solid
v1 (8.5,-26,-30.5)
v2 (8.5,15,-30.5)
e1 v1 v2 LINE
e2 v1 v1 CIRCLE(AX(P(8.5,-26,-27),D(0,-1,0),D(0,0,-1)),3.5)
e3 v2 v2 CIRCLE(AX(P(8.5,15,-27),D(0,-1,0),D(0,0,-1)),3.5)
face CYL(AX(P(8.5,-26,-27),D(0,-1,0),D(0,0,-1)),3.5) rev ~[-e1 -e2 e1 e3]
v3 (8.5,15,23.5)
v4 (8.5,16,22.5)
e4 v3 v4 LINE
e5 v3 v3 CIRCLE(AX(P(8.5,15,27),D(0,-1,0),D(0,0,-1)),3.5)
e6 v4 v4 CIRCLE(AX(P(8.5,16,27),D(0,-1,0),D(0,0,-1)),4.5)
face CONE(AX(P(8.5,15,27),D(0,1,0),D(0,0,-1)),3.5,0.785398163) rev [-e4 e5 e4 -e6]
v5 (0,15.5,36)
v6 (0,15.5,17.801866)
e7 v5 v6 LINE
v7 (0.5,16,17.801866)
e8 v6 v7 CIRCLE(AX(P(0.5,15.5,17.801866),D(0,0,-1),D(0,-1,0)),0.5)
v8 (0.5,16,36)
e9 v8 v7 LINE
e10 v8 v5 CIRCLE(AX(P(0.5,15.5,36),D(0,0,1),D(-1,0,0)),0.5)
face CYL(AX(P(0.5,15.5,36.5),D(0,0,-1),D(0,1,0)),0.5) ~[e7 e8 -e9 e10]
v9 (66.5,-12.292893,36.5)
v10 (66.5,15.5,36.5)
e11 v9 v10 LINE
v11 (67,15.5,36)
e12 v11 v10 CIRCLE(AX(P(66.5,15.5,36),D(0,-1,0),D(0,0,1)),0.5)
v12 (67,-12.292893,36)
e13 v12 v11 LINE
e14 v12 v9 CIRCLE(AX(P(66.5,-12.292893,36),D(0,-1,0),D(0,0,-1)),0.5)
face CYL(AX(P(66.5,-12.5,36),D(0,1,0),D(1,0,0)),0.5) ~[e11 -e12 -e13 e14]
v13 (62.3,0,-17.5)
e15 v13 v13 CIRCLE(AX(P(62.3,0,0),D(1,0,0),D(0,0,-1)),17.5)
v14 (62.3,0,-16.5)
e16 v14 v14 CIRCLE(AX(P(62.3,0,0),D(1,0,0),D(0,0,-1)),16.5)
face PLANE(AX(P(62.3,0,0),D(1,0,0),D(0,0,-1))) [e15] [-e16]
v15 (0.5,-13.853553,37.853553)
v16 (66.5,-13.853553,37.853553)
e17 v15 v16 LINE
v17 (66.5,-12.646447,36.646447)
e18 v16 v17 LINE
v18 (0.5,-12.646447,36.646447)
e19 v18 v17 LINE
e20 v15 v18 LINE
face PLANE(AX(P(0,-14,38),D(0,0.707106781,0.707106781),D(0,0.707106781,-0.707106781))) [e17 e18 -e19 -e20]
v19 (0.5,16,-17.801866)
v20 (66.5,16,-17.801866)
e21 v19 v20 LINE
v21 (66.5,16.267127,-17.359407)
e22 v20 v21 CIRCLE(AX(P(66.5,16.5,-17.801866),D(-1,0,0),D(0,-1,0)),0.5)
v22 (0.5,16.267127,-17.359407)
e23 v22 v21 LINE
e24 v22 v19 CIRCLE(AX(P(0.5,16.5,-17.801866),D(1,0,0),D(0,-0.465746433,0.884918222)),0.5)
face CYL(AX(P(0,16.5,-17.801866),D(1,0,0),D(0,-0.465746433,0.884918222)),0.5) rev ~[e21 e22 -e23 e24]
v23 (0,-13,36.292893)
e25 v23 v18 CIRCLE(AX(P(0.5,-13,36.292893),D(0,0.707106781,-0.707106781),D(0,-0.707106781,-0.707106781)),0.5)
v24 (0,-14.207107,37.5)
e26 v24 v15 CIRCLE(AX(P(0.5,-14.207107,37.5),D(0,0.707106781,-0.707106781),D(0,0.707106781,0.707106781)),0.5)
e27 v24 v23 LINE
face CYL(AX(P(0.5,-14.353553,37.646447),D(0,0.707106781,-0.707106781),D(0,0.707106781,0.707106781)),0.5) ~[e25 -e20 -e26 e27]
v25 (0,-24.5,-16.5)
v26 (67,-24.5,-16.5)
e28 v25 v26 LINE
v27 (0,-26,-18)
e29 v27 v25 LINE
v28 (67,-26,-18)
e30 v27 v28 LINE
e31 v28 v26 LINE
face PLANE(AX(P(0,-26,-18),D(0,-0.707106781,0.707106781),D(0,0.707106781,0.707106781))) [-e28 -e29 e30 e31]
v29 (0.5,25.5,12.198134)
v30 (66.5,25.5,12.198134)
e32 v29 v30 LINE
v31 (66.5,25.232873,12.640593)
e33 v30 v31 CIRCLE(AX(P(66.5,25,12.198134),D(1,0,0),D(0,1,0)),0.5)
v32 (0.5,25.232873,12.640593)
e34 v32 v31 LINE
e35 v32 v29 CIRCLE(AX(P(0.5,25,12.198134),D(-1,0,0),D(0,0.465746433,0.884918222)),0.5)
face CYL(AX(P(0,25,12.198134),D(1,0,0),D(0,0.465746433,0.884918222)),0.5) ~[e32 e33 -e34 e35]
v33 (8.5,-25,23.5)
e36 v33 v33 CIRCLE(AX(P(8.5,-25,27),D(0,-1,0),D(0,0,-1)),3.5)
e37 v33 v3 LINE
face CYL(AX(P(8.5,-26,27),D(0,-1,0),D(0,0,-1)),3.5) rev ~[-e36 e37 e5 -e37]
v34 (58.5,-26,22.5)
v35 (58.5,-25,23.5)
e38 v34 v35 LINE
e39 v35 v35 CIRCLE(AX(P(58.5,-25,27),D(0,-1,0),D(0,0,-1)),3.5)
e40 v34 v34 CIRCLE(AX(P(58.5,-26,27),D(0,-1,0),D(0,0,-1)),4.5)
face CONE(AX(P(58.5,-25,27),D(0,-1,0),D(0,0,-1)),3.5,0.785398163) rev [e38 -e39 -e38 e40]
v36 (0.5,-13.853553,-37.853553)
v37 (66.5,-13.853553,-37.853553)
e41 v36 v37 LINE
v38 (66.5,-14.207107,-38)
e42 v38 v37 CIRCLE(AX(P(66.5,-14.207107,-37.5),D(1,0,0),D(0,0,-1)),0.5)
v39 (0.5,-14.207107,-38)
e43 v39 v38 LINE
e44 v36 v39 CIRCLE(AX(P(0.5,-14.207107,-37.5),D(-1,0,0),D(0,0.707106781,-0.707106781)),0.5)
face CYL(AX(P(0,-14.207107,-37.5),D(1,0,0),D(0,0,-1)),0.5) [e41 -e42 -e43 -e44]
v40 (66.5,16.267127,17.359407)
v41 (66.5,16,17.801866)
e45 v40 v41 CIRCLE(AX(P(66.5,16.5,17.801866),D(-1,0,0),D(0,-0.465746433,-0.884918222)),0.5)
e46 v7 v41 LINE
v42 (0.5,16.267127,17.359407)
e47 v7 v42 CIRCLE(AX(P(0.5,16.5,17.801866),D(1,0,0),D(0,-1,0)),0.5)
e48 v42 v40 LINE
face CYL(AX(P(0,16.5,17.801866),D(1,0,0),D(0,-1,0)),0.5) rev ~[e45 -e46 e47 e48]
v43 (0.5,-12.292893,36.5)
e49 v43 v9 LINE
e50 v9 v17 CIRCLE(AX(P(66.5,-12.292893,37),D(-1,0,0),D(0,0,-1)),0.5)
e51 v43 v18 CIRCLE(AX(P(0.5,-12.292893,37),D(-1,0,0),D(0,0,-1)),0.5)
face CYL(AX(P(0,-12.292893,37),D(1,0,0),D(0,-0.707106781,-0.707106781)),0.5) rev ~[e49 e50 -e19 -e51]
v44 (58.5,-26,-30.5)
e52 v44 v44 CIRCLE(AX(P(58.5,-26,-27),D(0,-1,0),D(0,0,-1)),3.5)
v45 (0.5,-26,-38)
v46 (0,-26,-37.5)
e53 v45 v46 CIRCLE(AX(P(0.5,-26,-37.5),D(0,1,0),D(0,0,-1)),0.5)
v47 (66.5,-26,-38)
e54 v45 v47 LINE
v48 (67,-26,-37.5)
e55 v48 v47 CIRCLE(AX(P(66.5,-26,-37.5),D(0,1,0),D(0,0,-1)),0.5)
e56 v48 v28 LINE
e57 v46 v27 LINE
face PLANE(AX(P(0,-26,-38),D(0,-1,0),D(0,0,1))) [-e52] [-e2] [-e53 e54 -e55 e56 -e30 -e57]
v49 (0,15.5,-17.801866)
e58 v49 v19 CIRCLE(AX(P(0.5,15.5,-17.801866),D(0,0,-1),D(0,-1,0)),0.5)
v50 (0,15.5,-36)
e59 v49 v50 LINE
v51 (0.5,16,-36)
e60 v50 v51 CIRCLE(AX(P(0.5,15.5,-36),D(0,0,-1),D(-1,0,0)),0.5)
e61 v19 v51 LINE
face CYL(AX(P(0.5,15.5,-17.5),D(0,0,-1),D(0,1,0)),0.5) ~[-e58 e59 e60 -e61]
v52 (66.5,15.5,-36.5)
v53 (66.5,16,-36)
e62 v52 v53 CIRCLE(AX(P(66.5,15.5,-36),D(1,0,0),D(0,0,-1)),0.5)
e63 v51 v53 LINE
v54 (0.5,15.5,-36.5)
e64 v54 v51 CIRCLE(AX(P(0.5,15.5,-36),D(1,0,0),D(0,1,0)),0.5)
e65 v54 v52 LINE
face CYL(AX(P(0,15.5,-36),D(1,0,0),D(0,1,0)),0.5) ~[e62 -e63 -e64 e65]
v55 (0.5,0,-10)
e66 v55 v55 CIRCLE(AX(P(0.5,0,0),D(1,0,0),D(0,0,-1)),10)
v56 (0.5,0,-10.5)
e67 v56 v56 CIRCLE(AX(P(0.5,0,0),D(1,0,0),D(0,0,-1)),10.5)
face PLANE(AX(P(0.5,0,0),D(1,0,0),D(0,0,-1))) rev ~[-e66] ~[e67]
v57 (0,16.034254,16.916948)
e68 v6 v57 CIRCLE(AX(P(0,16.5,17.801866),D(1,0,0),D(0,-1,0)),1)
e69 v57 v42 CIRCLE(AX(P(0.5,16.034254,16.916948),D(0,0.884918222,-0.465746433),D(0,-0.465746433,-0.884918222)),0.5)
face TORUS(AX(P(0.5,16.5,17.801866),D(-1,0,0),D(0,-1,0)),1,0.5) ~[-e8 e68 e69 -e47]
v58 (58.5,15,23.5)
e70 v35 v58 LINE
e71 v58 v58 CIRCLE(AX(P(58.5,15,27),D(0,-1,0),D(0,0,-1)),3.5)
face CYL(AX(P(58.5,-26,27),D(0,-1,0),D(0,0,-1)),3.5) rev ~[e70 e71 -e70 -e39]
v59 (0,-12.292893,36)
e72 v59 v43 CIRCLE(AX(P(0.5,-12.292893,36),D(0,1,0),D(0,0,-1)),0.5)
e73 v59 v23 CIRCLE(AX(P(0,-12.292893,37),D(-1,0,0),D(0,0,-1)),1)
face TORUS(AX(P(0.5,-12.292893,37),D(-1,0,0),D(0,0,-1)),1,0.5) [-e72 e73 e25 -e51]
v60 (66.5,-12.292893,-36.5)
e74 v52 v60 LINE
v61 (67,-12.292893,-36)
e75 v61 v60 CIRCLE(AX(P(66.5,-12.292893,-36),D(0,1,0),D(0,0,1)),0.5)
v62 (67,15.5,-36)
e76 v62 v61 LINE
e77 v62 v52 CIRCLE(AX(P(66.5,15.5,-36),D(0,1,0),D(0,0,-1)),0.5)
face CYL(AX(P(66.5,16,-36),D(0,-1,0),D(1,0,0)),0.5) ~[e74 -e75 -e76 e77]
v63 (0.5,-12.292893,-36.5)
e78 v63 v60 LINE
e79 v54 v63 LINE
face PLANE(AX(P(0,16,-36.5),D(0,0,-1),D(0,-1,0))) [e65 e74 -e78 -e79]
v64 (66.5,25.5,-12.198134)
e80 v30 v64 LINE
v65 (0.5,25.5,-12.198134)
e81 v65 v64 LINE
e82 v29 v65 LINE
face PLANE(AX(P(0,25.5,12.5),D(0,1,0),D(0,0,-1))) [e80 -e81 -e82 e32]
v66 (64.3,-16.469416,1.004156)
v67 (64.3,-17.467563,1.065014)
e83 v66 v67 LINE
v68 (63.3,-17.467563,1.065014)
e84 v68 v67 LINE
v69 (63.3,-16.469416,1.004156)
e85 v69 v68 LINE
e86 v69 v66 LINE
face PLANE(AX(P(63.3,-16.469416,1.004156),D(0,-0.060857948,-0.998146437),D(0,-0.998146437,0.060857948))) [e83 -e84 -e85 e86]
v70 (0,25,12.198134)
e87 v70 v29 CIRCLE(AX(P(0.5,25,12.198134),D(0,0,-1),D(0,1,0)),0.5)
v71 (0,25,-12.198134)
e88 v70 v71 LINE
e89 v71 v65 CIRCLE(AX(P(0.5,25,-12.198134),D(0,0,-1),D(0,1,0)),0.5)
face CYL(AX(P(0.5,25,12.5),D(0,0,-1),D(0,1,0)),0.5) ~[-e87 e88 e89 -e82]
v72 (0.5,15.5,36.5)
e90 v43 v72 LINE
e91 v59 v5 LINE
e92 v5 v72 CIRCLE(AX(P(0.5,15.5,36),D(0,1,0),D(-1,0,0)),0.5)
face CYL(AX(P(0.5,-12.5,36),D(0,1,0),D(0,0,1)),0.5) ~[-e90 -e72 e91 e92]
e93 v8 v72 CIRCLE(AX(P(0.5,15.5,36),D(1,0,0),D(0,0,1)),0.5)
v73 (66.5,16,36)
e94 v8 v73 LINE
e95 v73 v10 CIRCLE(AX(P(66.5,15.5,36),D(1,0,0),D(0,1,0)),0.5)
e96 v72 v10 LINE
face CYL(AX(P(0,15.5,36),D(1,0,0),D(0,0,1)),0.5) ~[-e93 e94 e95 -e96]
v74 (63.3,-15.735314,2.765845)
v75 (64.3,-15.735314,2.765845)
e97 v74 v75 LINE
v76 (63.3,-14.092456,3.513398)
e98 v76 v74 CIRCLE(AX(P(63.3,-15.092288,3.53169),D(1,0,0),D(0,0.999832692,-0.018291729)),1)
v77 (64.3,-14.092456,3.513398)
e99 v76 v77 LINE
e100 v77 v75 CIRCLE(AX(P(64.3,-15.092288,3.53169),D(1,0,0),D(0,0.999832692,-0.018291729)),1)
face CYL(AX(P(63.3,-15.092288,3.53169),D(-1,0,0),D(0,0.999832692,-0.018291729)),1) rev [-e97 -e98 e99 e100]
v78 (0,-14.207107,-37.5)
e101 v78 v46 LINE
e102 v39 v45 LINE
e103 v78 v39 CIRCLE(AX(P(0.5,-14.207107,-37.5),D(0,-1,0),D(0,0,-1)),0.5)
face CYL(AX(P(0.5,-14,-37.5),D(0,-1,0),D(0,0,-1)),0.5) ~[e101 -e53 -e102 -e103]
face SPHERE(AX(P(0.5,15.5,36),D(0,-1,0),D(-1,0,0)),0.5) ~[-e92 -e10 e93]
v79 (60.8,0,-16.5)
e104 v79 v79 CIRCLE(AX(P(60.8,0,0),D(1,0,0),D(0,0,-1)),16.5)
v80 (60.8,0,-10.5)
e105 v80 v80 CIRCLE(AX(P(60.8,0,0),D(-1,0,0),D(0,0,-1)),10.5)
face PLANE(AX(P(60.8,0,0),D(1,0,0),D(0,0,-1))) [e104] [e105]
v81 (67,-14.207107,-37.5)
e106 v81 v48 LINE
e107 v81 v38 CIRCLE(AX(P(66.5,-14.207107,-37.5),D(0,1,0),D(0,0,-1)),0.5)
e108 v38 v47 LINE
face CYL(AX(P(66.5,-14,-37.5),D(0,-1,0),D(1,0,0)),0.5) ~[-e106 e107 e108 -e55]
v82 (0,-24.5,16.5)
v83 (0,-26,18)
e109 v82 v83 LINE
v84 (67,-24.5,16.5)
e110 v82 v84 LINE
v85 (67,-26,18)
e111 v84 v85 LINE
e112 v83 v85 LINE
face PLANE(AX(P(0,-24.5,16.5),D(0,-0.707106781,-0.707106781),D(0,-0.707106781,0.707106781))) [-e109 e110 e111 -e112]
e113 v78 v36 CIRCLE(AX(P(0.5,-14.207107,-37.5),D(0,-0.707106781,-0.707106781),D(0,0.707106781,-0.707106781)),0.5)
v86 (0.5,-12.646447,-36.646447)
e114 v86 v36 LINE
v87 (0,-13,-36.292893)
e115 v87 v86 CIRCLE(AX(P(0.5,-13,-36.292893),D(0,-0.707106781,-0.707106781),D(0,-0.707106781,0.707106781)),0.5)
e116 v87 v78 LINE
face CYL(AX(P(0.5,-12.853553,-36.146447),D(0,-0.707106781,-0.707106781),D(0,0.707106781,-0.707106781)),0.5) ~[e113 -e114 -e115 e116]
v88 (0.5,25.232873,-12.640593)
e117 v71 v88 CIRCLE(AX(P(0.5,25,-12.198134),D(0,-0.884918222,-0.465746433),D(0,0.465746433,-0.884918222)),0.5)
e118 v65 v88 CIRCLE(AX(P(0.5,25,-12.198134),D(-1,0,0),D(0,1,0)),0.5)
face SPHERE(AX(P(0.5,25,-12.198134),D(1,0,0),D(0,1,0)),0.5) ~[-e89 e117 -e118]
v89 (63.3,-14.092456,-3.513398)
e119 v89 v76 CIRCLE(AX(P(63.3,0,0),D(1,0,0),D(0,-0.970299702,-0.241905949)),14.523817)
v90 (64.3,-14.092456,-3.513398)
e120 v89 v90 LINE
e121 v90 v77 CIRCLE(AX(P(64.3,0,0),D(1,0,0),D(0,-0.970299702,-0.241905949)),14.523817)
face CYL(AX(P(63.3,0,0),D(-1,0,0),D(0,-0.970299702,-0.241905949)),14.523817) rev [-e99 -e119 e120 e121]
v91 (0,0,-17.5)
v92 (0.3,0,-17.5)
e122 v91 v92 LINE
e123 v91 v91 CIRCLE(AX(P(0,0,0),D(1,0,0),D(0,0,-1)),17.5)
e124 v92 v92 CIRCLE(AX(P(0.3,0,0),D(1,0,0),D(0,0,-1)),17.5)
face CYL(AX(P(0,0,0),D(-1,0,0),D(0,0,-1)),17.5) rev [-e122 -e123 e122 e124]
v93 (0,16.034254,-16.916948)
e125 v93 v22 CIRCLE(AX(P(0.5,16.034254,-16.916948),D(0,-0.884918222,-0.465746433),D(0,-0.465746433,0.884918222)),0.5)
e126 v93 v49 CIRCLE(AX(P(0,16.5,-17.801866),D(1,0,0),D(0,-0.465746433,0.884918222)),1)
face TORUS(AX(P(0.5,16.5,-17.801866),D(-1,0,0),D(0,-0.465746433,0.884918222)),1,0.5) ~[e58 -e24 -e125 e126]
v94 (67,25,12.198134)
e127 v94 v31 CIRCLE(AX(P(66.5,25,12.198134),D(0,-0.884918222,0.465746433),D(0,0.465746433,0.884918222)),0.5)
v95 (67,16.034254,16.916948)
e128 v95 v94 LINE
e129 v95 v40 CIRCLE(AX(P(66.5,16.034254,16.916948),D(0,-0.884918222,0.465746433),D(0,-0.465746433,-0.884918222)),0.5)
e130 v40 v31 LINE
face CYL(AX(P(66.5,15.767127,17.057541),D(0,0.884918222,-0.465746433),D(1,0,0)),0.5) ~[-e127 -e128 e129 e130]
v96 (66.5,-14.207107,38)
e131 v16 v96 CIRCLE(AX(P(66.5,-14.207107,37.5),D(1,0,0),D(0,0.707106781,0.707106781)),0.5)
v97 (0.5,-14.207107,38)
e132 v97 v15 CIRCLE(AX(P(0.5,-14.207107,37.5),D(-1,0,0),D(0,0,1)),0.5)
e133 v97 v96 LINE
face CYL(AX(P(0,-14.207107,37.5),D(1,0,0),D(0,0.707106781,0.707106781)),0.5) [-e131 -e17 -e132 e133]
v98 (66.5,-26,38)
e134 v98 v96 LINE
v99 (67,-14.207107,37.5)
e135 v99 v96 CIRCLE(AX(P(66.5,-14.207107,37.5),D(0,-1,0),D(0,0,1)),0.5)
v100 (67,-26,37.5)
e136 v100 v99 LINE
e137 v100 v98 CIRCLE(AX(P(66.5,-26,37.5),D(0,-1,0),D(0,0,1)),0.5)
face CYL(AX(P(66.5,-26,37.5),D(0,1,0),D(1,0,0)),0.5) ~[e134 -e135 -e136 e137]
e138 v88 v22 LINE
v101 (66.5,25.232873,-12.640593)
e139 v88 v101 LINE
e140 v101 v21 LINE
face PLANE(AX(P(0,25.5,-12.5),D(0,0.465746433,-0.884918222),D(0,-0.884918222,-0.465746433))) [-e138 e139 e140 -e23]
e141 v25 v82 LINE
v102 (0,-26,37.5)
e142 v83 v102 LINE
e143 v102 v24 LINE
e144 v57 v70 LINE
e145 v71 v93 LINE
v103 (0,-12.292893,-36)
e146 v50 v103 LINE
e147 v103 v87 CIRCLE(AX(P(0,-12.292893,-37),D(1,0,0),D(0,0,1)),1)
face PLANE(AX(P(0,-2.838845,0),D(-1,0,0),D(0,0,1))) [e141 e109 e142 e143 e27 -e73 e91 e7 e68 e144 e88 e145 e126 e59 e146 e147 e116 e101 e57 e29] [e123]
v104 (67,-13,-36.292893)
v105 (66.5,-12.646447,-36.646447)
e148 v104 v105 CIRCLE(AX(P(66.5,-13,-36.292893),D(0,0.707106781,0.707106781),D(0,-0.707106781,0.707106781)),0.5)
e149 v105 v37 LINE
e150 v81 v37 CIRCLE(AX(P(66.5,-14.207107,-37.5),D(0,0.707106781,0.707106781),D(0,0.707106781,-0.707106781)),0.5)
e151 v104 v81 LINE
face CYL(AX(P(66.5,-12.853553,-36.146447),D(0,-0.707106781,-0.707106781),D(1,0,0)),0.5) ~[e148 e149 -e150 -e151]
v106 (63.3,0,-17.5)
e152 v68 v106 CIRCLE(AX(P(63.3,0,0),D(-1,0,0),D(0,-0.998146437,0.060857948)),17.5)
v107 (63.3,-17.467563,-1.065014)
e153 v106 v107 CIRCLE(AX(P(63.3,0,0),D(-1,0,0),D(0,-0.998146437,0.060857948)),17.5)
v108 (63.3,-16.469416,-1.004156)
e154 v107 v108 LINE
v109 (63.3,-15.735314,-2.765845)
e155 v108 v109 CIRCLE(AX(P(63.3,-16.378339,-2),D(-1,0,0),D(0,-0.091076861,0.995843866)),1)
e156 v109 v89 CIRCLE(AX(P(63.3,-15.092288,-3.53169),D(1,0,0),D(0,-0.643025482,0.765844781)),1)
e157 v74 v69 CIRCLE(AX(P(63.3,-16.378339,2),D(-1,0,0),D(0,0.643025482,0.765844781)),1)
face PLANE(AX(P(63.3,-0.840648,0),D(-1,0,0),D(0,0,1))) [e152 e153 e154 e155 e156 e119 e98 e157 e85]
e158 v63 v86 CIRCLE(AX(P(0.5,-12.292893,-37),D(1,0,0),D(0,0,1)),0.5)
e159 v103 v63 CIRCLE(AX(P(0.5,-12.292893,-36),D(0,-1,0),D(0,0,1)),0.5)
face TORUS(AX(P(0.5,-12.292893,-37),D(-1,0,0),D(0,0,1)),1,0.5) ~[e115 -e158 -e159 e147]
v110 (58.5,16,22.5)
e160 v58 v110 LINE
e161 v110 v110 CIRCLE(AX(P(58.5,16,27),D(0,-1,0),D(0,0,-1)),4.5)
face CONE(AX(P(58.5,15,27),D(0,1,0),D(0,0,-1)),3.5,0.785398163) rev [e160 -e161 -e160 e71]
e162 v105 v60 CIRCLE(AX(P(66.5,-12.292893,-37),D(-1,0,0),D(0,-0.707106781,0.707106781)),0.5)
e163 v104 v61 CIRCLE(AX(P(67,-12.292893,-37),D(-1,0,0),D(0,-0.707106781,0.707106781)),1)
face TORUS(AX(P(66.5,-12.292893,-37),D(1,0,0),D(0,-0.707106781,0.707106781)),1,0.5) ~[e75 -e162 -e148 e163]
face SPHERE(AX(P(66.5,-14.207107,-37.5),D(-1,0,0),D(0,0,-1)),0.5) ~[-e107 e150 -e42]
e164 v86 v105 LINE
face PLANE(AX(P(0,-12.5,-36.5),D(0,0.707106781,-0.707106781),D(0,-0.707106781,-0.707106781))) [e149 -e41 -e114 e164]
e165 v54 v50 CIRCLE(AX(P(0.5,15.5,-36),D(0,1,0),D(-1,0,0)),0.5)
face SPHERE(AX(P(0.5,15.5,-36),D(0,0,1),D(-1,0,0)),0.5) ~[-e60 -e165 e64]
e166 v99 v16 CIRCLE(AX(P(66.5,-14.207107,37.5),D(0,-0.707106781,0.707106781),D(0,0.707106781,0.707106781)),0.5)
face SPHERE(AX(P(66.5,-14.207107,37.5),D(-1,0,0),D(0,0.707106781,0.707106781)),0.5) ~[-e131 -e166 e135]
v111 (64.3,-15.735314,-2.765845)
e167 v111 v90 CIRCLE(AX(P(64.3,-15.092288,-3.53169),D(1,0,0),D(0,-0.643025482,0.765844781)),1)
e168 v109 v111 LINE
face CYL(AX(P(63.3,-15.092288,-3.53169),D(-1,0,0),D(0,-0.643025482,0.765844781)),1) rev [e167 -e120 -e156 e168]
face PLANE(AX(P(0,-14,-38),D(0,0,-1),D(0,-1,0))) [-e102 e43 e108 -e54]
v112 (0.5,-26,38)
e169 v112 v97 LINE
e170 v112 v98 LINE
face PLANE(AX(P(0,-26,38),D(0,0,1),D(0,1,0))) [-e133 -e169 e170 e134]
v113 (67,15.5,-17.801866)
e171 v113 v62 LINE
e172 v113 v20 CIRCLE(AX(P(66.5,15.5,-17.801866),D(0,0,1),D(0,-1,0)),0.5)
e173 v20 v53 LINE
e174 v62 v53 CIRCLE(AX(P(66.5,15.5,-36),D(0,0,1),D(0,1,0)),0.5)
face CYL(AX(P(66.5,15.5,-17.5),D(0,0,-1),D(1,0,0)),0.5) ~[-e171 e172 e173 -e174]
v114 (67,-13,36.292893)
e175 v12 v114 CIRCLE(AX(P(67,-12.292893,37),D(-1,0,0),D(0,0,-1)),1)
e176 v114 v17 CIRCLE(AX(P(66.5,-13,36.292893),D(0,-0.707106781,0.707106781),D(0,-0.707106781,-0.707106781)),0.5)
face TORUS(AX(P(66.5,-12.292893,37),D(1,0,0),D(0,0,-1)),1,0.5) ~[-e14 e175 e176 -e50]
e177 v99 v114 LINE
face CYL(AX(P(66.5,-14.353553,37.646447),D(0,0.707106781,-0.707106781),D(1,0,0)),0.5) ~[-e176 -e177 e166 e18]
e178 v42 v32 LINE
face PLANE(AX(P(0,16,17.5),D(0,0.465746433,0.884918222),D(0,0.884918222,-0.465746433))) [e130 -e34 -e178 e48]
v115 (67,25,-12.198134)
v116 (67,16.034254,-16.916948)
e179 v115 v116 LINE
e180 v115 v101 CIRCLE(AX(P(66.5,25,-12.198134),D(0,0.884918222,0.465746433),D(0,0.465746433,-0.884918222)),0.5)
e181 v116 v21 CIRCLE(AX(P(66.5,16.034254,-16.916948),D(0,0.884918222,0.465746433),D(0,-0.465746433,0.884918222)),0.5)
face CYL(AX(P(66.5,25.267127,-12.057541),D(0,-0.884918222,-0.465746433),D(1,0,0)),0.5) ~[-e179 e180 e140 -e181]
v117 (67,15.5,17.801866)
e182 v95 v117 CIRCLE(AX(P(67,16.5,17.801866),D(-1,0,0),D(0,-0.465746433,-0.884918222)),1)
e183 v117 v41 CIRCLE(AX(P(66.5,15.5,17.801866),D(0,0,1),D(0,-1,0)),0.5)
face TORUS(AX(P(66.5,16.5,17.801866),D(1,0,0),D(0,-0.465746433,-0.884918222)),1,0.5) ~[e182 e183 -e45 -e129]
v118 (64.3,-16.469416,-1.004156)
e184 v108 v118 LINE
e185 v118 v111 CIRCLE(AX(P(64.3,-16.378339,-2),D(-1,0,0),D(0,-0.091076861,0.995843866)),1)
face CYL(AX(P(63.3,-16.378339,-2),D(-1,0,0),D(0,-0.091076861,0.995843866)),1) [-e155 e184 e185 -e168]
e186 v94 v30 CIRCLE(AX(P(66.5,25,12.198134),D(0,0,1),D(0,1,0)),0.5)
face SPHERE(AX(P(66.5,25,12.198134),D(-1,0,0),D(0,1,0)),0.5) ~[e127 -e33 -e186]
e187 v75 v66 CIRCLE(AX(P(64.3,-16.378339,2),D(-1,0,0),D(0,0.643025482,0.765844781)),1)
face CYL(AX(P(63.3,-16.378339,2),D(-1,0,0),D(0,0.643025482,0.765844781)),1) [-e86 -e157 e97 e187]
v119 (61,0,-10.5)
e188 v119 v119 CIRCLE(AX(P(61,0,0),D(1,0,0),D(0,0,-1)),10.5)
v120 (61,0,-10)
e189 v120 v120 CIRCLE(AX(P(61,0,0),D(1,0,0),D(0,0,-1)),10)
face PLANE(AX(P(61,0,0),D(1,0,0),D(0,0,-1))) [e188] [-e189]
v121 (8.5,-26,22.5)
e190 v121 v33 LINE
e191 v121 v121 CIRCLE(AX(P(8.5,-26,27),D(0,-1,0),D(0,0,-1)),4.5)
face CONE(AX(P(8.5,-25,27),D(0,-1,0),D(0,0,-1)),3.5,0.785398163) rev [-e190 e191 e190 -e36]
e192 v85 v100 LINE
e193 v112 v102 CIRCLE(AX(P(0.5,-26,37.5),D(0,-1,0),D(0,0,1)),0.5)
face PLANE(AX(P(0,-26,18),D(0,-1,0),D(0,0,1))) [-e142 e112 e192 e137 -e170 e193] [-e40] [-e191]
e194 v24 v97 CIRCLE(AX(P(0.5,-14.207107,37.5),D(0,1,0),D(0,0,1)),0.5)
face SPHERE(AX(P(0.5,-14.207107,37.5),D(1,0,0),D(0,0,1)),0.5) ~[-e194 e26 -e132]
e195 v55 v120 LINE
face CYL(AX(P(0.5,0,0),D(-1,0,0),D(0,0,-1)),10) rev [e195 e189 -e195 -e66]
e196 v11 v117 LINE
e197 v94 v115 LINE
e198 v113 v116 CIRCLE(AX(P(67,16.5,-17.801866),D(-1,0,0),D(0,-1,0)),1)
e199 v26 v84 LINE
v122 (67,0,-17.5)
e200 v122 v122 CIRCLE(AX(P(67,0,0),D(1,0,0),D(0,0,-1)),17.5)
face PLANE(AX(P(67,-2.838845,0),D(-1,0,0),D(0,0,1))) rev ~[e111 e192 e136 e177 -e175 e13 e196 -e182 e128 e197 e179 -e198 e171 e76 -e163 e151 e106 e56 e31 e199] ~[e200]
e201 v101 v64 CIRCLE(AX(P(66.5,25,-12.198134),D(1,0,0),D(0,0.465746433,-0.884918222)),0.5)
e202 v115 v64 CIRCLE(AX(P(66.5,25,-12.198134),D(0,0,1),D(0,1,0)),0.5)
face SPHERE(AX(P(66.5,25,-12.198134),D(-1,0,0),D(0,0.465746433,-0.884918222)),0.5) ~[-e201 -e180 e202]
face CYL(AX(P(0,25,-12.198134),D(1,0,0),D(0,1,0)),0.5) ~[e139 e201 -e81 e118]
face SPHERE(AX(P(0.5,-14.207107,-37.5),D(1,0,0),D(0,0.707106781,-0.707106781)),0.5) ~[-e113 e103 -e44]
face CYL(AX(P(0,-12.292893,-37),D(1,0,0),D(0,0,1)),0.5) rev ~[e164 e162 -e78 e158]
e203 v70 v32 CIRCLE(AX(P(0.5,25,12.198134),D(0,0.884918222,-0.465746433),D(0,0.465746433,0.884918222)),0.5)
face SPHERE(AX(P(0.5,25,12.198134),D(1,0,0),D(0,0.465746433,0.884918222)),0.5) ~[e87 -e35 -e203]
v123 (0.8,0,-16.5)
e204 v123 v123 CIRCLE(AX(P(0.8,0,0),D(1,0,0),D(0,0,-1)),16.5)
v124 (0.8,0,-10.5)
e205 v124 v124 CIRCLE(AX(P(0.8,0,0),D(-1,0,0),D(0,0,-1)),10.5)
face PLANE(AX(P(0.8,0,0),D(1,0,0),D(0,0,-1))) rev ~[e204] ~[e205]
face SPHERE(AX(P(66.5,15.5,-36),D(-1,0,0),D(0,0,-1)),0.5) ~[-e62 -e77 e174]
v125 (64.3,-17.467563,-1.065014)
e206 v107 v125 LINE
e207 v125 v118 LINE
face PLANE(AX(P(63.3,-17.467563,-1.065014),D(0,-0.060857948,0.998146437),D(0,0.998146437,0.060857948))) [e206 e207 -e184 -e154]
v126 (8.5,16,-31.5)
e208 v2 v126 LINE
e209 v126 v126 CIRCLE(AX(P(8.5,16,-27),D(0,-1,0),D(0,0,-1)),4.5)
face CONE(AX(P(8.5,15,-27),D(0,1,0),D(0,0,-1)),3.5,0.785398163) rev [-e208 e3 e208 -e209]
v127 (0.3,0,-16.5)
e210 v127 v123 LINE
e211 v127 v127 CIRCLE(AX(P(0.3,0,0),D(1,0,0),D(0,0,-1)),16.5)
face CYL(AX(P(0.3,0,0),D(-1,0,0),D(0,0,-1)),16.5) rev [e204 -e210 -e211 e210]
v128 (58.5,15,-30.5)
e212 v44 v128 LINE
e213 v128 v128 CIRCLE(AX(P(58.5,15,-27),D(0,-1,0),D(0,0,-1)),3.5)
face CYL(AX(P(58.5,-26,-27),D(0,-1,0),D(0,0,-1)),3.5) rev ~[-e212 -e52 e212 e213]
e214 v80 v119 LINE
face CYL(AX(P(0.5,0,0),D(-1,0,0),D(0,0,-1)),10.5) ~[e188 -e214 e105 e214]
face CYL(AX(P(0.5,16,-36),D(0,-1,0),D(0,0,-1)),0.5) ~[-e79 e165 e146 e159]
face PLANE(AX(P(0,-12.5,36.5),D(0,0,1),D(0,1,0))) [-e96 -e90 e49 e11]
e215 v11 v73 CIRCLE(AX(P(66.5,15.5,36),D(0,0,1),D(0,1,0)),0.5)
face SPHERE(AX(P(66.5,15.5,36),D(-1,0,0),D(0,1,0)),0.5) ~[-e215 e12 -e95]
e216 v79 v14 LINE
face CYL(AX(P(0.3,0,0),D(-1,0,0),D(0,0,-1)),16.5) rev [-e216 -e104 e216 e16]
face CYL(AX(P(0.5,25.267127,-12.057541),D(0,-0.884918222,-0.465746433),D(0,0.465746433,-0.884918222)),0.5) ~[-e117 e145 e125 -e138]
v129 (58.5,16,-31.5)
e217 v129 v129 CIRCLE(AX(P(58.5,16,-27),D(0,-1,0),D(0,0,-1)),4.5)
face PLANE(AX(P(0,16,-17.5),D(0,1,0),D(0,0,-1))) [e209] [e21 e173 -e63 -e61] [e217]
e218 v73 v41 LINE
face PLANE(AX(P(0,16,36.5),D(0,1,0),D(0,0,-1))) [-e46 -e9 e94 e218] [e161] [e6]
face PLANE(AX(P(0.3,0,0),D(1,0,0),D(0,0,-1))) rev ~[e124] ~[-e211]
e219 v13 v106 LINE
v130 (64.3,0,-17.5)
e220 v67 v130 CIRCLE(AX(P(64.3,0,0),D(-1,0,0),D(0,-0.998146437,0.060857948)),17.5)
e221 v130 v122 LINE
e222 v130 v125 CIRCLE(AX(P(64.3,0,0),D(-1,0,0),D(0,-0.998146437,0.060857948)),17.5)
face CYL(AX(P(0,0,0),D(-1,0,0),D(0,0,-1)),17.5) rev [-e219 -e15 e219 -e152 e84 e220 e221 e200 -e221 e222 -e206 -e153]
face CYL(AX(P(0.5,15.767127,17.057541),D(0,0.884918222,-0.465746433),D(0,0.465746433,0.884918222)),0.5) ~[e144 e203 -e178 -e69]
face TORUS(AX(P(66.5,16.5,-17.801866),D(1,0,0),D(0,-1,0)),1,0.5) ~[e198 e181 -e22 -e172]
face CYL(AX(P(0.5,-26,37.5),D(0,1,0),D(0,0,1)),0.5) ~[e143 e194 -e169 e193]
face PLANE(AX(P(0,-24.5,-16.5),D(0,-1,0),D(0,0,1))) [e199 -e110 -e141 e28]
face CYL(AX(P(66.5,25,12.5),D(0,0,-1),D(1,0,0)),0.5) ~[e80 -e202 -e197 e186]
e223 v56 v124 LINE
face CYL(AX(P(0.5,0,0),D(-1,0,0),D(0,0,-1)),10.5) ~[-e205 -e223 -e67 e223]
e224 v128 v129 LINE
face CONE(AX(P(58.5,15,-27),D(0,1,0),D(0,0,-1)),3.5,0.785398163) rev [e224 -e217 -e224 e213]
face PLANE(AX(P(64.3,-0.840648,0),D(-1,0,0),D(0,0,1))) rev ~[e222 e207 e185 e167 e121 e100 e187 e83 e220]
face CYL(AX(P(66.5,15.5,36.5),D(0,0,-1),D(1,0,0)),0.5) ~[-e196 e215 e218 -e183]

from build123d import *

# Parameters (mm, degrees)
SKETCH1_R           = 17.5
BOSS_EXTRUDE1_DEPTH = 67
EXTRUDE_THIN1_START = 0.5
SKETCH1_4_R         = 10.5
SKETCH1_4_R_2       = 10
EXTRUDE_THIN1_DEPTH = 60.5
BOSS_EXTRUDE2_START = 0.8
SKETCH1_5_R         = 16.5
SKETCH1_5_R_2       = 10
BOSS_EXTRUDE2_DEPTH = 60
BOSS_EXTRUDE3_START = 0.3
SKETCH1_6_R         = 17.5
SKETCH1_6_R_2       = 16.5
BOSS_EXTRUDE3_DEPTH = 62
BOSS_EXTRUDE4_START = 1
BOSS_EXTRUDE4_DEPTH = 1
FILLET1_R           = 0.5
SKETCH4_R           = 3.5
CUT_EXTRUDE3_DEPTH  = 93.656624156
CHAMFER1_SIZE       = 1


with BuildPart() as part:
    # Sketch1 → Boss-Extrude1 (new body)
    with BuildSketch(Plane(origin=(0, 0, 0), x_dir=(0, 0, -1), z_dir=(1, 0, 0))):
        Polygon((-38, -26), (-18, -26), (-16.5, -24.5), (16.5, -24.5), (18, -26), (38, -26), (38, -14), (36.5, -12.5), (36.5, 16), (17.5, 16), (12.5, 25.5), (-12.5, 25.5), (-17.5, 16), (-36.5, 16), (-36.5, -12.5), (-38, -14), align=None)
        Circle(SKETCH1_R, mode=Mode.SUBTRACT)
    extrude(amount=BOSS_EXTRUDE1_DEPTH)



with BuildPart() as body_2:
    # Sketch1<4> → Extrude-Thin1 (new body)
    with BuildSketch(Plane(origin=(0, 0, 0), x_dir=(0, 0, -1), z_dir=(1, 0, 0)).offset(EXTRUDE_THIN1_START)):
        Circle(SKETCH1_4_R)
        Circle(SKETCH1_4_R_2, mode=Mode.SUBTRACT)
    extrude(amount=EXTRUDE_THIN1_DEPTH)

    # Sketch1<5> → Boss-Extrude2 (add)
    with BuildSketch(Plane(origin=(0, 0, 0), x_dir=(0, 0, -1), z_dir=(1, 0, 0)).offset(BOSS_EXTRUDE2_START)):
        Circle(SKETCH1_5_R)
        Circle(SKETCH1_5_R_2, mode=Mode.SUBTRACT)
    extrude(amount=BOSS_EXTRUDE2_DEPTH)


with BuildPart() as part_1:
    add(part.part)

    add(body_2.part)  # Boss-Extrude3 merges body 2
    # Sketch1<6> → Boss-Extrude3 (add)
    with BuildSketch(Plane(origin=(0, 0, 0), x_dir=(0, 0, -1), z_dir=(1, 0, 0)).offset(BOSS_EXTRUDE3_START)):
        Circle(SKETCH1_6_R)
        Circle(SKETCH1_6_R_2, mode=Mode.SUBTRACT)
    extrude(amount=BOSS_EXTRUDE3_DEPTH)

    # Sketch3 → Boss-Extrude4 (add)
    with BuildSketch(Plane(origin=(62.3, 0, 0), x_dir=(0, 0, -1), z_dir=(1, 0, 0)).offset(BOSS_EXTRUDE4_START)):
        with BuildLine():
            Line((-1.004156134, -16.469416215), (-1.065014082, -17.467562652))
            ThreePointArc((-1.065014082, -17.467562652), (0, 17.5), (1.065014082, -17.467562652))
            Line((1.065014082, -17.467562652), (1.004156134, -16.469416215))
            ThreePointArc((1.004156134, -16.469416215), (1.615355414, -15.455274599), (2.765844781, -15.735313872))
            ThreePointArc((2.765844781, -15.735313872), (4.441889135, -15.506458328), (3.513397833, -14.092455697))
            ThreePointArc((3.513397833, -14.092455697), (0, 14.523817402), (-3.513397833, -14.092455697))
            ThreePointArc((-3.513397833, -14.092455697), (-4.441889135, -15.506458328), (-2.765844781, -15.735313872))
            ThreePointArc((-2.765844781, -15.735313872), (-1.615355414, -15.455274599), (-1.004156134, -16.469416215))
        make_face()
    extrude(amount=BOSS_EXTRUDE4_DEPTH)

    # Fillet1
    fillet1_edges = [part_1.edges().sort_by_distance(p)[0] for p in [
        (33.5, -12.5, -36.5),
        (33.5, -12.5, 36.5),
        (33.5, -14, 38),
        (33.5, -14, -38),
        (33.5, 16, -17.5),
        (33.5, 16, 17.5),
        (33.5, 25.5, 12.5),
        (33.5, 25.5, -12.5),
        (33.5, 16, -36.5),
        (33.5, 16, 36.5),
        (67, 20.75, -15),
        (67, 20.75, 15),
        (67, 1.75, 36.5),
        (0, -13.25, 37.25),
        (0, 20.75, 15),
        (67, -13.25, -37.25),
        (67, -20, -38),
        (67, 1.75, -36.5),
        (67, 25.5, 0),
        (67, 16, -27),
        (67, 16, 27),
        (67, -13.25, 37.25),
        (67, -20, 38),
        (0, -20, -38),
        (0, -13.25, -37.25),
        (0, 1.75, -36.5),
        (0, 20.75, -15),
        (0, 16, -27),
        (0, 25.5, 0),
        (0, -20, 38),
        (0, 1.75, 36.5),
        (0, 16, 27),
    ]]
    fillet(fillet1_edges, radius=FILLET1_R)

    # Sketch4 → Cut-Extrude3 (cut, through all)
    with BuildSketch(Plane.XZ.offset(26)):
        with Locations((8.5, 27)):
            Circle(SKETCH4_R)
        with Locations((58.5, 27)):
            Circle(SKETCH4_R)
        with Locations((58.5, -27)):
            Circle(SKETCH4_R)
        with Locations((8.5, -27)):
            Circle(SKETCH4_R)
    extrude(amount=-CUT_EXTRUDE3_DEPTH, mode=Mode.SUBTRACT)

    # Chamfer1
    chamfer1_edges = [part_1.edges().sort_by_distance(p)[0] for p in [
        (55, 16, -27),
        (5, 16, -27),
        (5, 16, 27),
        (55, 16, 27),
        (55, -26, 27),
        (5, -26, 27),
    ]]
    chamfer(chamfer1_edges, length=CHAMFER1_SIZE)


solid = part_1.part
